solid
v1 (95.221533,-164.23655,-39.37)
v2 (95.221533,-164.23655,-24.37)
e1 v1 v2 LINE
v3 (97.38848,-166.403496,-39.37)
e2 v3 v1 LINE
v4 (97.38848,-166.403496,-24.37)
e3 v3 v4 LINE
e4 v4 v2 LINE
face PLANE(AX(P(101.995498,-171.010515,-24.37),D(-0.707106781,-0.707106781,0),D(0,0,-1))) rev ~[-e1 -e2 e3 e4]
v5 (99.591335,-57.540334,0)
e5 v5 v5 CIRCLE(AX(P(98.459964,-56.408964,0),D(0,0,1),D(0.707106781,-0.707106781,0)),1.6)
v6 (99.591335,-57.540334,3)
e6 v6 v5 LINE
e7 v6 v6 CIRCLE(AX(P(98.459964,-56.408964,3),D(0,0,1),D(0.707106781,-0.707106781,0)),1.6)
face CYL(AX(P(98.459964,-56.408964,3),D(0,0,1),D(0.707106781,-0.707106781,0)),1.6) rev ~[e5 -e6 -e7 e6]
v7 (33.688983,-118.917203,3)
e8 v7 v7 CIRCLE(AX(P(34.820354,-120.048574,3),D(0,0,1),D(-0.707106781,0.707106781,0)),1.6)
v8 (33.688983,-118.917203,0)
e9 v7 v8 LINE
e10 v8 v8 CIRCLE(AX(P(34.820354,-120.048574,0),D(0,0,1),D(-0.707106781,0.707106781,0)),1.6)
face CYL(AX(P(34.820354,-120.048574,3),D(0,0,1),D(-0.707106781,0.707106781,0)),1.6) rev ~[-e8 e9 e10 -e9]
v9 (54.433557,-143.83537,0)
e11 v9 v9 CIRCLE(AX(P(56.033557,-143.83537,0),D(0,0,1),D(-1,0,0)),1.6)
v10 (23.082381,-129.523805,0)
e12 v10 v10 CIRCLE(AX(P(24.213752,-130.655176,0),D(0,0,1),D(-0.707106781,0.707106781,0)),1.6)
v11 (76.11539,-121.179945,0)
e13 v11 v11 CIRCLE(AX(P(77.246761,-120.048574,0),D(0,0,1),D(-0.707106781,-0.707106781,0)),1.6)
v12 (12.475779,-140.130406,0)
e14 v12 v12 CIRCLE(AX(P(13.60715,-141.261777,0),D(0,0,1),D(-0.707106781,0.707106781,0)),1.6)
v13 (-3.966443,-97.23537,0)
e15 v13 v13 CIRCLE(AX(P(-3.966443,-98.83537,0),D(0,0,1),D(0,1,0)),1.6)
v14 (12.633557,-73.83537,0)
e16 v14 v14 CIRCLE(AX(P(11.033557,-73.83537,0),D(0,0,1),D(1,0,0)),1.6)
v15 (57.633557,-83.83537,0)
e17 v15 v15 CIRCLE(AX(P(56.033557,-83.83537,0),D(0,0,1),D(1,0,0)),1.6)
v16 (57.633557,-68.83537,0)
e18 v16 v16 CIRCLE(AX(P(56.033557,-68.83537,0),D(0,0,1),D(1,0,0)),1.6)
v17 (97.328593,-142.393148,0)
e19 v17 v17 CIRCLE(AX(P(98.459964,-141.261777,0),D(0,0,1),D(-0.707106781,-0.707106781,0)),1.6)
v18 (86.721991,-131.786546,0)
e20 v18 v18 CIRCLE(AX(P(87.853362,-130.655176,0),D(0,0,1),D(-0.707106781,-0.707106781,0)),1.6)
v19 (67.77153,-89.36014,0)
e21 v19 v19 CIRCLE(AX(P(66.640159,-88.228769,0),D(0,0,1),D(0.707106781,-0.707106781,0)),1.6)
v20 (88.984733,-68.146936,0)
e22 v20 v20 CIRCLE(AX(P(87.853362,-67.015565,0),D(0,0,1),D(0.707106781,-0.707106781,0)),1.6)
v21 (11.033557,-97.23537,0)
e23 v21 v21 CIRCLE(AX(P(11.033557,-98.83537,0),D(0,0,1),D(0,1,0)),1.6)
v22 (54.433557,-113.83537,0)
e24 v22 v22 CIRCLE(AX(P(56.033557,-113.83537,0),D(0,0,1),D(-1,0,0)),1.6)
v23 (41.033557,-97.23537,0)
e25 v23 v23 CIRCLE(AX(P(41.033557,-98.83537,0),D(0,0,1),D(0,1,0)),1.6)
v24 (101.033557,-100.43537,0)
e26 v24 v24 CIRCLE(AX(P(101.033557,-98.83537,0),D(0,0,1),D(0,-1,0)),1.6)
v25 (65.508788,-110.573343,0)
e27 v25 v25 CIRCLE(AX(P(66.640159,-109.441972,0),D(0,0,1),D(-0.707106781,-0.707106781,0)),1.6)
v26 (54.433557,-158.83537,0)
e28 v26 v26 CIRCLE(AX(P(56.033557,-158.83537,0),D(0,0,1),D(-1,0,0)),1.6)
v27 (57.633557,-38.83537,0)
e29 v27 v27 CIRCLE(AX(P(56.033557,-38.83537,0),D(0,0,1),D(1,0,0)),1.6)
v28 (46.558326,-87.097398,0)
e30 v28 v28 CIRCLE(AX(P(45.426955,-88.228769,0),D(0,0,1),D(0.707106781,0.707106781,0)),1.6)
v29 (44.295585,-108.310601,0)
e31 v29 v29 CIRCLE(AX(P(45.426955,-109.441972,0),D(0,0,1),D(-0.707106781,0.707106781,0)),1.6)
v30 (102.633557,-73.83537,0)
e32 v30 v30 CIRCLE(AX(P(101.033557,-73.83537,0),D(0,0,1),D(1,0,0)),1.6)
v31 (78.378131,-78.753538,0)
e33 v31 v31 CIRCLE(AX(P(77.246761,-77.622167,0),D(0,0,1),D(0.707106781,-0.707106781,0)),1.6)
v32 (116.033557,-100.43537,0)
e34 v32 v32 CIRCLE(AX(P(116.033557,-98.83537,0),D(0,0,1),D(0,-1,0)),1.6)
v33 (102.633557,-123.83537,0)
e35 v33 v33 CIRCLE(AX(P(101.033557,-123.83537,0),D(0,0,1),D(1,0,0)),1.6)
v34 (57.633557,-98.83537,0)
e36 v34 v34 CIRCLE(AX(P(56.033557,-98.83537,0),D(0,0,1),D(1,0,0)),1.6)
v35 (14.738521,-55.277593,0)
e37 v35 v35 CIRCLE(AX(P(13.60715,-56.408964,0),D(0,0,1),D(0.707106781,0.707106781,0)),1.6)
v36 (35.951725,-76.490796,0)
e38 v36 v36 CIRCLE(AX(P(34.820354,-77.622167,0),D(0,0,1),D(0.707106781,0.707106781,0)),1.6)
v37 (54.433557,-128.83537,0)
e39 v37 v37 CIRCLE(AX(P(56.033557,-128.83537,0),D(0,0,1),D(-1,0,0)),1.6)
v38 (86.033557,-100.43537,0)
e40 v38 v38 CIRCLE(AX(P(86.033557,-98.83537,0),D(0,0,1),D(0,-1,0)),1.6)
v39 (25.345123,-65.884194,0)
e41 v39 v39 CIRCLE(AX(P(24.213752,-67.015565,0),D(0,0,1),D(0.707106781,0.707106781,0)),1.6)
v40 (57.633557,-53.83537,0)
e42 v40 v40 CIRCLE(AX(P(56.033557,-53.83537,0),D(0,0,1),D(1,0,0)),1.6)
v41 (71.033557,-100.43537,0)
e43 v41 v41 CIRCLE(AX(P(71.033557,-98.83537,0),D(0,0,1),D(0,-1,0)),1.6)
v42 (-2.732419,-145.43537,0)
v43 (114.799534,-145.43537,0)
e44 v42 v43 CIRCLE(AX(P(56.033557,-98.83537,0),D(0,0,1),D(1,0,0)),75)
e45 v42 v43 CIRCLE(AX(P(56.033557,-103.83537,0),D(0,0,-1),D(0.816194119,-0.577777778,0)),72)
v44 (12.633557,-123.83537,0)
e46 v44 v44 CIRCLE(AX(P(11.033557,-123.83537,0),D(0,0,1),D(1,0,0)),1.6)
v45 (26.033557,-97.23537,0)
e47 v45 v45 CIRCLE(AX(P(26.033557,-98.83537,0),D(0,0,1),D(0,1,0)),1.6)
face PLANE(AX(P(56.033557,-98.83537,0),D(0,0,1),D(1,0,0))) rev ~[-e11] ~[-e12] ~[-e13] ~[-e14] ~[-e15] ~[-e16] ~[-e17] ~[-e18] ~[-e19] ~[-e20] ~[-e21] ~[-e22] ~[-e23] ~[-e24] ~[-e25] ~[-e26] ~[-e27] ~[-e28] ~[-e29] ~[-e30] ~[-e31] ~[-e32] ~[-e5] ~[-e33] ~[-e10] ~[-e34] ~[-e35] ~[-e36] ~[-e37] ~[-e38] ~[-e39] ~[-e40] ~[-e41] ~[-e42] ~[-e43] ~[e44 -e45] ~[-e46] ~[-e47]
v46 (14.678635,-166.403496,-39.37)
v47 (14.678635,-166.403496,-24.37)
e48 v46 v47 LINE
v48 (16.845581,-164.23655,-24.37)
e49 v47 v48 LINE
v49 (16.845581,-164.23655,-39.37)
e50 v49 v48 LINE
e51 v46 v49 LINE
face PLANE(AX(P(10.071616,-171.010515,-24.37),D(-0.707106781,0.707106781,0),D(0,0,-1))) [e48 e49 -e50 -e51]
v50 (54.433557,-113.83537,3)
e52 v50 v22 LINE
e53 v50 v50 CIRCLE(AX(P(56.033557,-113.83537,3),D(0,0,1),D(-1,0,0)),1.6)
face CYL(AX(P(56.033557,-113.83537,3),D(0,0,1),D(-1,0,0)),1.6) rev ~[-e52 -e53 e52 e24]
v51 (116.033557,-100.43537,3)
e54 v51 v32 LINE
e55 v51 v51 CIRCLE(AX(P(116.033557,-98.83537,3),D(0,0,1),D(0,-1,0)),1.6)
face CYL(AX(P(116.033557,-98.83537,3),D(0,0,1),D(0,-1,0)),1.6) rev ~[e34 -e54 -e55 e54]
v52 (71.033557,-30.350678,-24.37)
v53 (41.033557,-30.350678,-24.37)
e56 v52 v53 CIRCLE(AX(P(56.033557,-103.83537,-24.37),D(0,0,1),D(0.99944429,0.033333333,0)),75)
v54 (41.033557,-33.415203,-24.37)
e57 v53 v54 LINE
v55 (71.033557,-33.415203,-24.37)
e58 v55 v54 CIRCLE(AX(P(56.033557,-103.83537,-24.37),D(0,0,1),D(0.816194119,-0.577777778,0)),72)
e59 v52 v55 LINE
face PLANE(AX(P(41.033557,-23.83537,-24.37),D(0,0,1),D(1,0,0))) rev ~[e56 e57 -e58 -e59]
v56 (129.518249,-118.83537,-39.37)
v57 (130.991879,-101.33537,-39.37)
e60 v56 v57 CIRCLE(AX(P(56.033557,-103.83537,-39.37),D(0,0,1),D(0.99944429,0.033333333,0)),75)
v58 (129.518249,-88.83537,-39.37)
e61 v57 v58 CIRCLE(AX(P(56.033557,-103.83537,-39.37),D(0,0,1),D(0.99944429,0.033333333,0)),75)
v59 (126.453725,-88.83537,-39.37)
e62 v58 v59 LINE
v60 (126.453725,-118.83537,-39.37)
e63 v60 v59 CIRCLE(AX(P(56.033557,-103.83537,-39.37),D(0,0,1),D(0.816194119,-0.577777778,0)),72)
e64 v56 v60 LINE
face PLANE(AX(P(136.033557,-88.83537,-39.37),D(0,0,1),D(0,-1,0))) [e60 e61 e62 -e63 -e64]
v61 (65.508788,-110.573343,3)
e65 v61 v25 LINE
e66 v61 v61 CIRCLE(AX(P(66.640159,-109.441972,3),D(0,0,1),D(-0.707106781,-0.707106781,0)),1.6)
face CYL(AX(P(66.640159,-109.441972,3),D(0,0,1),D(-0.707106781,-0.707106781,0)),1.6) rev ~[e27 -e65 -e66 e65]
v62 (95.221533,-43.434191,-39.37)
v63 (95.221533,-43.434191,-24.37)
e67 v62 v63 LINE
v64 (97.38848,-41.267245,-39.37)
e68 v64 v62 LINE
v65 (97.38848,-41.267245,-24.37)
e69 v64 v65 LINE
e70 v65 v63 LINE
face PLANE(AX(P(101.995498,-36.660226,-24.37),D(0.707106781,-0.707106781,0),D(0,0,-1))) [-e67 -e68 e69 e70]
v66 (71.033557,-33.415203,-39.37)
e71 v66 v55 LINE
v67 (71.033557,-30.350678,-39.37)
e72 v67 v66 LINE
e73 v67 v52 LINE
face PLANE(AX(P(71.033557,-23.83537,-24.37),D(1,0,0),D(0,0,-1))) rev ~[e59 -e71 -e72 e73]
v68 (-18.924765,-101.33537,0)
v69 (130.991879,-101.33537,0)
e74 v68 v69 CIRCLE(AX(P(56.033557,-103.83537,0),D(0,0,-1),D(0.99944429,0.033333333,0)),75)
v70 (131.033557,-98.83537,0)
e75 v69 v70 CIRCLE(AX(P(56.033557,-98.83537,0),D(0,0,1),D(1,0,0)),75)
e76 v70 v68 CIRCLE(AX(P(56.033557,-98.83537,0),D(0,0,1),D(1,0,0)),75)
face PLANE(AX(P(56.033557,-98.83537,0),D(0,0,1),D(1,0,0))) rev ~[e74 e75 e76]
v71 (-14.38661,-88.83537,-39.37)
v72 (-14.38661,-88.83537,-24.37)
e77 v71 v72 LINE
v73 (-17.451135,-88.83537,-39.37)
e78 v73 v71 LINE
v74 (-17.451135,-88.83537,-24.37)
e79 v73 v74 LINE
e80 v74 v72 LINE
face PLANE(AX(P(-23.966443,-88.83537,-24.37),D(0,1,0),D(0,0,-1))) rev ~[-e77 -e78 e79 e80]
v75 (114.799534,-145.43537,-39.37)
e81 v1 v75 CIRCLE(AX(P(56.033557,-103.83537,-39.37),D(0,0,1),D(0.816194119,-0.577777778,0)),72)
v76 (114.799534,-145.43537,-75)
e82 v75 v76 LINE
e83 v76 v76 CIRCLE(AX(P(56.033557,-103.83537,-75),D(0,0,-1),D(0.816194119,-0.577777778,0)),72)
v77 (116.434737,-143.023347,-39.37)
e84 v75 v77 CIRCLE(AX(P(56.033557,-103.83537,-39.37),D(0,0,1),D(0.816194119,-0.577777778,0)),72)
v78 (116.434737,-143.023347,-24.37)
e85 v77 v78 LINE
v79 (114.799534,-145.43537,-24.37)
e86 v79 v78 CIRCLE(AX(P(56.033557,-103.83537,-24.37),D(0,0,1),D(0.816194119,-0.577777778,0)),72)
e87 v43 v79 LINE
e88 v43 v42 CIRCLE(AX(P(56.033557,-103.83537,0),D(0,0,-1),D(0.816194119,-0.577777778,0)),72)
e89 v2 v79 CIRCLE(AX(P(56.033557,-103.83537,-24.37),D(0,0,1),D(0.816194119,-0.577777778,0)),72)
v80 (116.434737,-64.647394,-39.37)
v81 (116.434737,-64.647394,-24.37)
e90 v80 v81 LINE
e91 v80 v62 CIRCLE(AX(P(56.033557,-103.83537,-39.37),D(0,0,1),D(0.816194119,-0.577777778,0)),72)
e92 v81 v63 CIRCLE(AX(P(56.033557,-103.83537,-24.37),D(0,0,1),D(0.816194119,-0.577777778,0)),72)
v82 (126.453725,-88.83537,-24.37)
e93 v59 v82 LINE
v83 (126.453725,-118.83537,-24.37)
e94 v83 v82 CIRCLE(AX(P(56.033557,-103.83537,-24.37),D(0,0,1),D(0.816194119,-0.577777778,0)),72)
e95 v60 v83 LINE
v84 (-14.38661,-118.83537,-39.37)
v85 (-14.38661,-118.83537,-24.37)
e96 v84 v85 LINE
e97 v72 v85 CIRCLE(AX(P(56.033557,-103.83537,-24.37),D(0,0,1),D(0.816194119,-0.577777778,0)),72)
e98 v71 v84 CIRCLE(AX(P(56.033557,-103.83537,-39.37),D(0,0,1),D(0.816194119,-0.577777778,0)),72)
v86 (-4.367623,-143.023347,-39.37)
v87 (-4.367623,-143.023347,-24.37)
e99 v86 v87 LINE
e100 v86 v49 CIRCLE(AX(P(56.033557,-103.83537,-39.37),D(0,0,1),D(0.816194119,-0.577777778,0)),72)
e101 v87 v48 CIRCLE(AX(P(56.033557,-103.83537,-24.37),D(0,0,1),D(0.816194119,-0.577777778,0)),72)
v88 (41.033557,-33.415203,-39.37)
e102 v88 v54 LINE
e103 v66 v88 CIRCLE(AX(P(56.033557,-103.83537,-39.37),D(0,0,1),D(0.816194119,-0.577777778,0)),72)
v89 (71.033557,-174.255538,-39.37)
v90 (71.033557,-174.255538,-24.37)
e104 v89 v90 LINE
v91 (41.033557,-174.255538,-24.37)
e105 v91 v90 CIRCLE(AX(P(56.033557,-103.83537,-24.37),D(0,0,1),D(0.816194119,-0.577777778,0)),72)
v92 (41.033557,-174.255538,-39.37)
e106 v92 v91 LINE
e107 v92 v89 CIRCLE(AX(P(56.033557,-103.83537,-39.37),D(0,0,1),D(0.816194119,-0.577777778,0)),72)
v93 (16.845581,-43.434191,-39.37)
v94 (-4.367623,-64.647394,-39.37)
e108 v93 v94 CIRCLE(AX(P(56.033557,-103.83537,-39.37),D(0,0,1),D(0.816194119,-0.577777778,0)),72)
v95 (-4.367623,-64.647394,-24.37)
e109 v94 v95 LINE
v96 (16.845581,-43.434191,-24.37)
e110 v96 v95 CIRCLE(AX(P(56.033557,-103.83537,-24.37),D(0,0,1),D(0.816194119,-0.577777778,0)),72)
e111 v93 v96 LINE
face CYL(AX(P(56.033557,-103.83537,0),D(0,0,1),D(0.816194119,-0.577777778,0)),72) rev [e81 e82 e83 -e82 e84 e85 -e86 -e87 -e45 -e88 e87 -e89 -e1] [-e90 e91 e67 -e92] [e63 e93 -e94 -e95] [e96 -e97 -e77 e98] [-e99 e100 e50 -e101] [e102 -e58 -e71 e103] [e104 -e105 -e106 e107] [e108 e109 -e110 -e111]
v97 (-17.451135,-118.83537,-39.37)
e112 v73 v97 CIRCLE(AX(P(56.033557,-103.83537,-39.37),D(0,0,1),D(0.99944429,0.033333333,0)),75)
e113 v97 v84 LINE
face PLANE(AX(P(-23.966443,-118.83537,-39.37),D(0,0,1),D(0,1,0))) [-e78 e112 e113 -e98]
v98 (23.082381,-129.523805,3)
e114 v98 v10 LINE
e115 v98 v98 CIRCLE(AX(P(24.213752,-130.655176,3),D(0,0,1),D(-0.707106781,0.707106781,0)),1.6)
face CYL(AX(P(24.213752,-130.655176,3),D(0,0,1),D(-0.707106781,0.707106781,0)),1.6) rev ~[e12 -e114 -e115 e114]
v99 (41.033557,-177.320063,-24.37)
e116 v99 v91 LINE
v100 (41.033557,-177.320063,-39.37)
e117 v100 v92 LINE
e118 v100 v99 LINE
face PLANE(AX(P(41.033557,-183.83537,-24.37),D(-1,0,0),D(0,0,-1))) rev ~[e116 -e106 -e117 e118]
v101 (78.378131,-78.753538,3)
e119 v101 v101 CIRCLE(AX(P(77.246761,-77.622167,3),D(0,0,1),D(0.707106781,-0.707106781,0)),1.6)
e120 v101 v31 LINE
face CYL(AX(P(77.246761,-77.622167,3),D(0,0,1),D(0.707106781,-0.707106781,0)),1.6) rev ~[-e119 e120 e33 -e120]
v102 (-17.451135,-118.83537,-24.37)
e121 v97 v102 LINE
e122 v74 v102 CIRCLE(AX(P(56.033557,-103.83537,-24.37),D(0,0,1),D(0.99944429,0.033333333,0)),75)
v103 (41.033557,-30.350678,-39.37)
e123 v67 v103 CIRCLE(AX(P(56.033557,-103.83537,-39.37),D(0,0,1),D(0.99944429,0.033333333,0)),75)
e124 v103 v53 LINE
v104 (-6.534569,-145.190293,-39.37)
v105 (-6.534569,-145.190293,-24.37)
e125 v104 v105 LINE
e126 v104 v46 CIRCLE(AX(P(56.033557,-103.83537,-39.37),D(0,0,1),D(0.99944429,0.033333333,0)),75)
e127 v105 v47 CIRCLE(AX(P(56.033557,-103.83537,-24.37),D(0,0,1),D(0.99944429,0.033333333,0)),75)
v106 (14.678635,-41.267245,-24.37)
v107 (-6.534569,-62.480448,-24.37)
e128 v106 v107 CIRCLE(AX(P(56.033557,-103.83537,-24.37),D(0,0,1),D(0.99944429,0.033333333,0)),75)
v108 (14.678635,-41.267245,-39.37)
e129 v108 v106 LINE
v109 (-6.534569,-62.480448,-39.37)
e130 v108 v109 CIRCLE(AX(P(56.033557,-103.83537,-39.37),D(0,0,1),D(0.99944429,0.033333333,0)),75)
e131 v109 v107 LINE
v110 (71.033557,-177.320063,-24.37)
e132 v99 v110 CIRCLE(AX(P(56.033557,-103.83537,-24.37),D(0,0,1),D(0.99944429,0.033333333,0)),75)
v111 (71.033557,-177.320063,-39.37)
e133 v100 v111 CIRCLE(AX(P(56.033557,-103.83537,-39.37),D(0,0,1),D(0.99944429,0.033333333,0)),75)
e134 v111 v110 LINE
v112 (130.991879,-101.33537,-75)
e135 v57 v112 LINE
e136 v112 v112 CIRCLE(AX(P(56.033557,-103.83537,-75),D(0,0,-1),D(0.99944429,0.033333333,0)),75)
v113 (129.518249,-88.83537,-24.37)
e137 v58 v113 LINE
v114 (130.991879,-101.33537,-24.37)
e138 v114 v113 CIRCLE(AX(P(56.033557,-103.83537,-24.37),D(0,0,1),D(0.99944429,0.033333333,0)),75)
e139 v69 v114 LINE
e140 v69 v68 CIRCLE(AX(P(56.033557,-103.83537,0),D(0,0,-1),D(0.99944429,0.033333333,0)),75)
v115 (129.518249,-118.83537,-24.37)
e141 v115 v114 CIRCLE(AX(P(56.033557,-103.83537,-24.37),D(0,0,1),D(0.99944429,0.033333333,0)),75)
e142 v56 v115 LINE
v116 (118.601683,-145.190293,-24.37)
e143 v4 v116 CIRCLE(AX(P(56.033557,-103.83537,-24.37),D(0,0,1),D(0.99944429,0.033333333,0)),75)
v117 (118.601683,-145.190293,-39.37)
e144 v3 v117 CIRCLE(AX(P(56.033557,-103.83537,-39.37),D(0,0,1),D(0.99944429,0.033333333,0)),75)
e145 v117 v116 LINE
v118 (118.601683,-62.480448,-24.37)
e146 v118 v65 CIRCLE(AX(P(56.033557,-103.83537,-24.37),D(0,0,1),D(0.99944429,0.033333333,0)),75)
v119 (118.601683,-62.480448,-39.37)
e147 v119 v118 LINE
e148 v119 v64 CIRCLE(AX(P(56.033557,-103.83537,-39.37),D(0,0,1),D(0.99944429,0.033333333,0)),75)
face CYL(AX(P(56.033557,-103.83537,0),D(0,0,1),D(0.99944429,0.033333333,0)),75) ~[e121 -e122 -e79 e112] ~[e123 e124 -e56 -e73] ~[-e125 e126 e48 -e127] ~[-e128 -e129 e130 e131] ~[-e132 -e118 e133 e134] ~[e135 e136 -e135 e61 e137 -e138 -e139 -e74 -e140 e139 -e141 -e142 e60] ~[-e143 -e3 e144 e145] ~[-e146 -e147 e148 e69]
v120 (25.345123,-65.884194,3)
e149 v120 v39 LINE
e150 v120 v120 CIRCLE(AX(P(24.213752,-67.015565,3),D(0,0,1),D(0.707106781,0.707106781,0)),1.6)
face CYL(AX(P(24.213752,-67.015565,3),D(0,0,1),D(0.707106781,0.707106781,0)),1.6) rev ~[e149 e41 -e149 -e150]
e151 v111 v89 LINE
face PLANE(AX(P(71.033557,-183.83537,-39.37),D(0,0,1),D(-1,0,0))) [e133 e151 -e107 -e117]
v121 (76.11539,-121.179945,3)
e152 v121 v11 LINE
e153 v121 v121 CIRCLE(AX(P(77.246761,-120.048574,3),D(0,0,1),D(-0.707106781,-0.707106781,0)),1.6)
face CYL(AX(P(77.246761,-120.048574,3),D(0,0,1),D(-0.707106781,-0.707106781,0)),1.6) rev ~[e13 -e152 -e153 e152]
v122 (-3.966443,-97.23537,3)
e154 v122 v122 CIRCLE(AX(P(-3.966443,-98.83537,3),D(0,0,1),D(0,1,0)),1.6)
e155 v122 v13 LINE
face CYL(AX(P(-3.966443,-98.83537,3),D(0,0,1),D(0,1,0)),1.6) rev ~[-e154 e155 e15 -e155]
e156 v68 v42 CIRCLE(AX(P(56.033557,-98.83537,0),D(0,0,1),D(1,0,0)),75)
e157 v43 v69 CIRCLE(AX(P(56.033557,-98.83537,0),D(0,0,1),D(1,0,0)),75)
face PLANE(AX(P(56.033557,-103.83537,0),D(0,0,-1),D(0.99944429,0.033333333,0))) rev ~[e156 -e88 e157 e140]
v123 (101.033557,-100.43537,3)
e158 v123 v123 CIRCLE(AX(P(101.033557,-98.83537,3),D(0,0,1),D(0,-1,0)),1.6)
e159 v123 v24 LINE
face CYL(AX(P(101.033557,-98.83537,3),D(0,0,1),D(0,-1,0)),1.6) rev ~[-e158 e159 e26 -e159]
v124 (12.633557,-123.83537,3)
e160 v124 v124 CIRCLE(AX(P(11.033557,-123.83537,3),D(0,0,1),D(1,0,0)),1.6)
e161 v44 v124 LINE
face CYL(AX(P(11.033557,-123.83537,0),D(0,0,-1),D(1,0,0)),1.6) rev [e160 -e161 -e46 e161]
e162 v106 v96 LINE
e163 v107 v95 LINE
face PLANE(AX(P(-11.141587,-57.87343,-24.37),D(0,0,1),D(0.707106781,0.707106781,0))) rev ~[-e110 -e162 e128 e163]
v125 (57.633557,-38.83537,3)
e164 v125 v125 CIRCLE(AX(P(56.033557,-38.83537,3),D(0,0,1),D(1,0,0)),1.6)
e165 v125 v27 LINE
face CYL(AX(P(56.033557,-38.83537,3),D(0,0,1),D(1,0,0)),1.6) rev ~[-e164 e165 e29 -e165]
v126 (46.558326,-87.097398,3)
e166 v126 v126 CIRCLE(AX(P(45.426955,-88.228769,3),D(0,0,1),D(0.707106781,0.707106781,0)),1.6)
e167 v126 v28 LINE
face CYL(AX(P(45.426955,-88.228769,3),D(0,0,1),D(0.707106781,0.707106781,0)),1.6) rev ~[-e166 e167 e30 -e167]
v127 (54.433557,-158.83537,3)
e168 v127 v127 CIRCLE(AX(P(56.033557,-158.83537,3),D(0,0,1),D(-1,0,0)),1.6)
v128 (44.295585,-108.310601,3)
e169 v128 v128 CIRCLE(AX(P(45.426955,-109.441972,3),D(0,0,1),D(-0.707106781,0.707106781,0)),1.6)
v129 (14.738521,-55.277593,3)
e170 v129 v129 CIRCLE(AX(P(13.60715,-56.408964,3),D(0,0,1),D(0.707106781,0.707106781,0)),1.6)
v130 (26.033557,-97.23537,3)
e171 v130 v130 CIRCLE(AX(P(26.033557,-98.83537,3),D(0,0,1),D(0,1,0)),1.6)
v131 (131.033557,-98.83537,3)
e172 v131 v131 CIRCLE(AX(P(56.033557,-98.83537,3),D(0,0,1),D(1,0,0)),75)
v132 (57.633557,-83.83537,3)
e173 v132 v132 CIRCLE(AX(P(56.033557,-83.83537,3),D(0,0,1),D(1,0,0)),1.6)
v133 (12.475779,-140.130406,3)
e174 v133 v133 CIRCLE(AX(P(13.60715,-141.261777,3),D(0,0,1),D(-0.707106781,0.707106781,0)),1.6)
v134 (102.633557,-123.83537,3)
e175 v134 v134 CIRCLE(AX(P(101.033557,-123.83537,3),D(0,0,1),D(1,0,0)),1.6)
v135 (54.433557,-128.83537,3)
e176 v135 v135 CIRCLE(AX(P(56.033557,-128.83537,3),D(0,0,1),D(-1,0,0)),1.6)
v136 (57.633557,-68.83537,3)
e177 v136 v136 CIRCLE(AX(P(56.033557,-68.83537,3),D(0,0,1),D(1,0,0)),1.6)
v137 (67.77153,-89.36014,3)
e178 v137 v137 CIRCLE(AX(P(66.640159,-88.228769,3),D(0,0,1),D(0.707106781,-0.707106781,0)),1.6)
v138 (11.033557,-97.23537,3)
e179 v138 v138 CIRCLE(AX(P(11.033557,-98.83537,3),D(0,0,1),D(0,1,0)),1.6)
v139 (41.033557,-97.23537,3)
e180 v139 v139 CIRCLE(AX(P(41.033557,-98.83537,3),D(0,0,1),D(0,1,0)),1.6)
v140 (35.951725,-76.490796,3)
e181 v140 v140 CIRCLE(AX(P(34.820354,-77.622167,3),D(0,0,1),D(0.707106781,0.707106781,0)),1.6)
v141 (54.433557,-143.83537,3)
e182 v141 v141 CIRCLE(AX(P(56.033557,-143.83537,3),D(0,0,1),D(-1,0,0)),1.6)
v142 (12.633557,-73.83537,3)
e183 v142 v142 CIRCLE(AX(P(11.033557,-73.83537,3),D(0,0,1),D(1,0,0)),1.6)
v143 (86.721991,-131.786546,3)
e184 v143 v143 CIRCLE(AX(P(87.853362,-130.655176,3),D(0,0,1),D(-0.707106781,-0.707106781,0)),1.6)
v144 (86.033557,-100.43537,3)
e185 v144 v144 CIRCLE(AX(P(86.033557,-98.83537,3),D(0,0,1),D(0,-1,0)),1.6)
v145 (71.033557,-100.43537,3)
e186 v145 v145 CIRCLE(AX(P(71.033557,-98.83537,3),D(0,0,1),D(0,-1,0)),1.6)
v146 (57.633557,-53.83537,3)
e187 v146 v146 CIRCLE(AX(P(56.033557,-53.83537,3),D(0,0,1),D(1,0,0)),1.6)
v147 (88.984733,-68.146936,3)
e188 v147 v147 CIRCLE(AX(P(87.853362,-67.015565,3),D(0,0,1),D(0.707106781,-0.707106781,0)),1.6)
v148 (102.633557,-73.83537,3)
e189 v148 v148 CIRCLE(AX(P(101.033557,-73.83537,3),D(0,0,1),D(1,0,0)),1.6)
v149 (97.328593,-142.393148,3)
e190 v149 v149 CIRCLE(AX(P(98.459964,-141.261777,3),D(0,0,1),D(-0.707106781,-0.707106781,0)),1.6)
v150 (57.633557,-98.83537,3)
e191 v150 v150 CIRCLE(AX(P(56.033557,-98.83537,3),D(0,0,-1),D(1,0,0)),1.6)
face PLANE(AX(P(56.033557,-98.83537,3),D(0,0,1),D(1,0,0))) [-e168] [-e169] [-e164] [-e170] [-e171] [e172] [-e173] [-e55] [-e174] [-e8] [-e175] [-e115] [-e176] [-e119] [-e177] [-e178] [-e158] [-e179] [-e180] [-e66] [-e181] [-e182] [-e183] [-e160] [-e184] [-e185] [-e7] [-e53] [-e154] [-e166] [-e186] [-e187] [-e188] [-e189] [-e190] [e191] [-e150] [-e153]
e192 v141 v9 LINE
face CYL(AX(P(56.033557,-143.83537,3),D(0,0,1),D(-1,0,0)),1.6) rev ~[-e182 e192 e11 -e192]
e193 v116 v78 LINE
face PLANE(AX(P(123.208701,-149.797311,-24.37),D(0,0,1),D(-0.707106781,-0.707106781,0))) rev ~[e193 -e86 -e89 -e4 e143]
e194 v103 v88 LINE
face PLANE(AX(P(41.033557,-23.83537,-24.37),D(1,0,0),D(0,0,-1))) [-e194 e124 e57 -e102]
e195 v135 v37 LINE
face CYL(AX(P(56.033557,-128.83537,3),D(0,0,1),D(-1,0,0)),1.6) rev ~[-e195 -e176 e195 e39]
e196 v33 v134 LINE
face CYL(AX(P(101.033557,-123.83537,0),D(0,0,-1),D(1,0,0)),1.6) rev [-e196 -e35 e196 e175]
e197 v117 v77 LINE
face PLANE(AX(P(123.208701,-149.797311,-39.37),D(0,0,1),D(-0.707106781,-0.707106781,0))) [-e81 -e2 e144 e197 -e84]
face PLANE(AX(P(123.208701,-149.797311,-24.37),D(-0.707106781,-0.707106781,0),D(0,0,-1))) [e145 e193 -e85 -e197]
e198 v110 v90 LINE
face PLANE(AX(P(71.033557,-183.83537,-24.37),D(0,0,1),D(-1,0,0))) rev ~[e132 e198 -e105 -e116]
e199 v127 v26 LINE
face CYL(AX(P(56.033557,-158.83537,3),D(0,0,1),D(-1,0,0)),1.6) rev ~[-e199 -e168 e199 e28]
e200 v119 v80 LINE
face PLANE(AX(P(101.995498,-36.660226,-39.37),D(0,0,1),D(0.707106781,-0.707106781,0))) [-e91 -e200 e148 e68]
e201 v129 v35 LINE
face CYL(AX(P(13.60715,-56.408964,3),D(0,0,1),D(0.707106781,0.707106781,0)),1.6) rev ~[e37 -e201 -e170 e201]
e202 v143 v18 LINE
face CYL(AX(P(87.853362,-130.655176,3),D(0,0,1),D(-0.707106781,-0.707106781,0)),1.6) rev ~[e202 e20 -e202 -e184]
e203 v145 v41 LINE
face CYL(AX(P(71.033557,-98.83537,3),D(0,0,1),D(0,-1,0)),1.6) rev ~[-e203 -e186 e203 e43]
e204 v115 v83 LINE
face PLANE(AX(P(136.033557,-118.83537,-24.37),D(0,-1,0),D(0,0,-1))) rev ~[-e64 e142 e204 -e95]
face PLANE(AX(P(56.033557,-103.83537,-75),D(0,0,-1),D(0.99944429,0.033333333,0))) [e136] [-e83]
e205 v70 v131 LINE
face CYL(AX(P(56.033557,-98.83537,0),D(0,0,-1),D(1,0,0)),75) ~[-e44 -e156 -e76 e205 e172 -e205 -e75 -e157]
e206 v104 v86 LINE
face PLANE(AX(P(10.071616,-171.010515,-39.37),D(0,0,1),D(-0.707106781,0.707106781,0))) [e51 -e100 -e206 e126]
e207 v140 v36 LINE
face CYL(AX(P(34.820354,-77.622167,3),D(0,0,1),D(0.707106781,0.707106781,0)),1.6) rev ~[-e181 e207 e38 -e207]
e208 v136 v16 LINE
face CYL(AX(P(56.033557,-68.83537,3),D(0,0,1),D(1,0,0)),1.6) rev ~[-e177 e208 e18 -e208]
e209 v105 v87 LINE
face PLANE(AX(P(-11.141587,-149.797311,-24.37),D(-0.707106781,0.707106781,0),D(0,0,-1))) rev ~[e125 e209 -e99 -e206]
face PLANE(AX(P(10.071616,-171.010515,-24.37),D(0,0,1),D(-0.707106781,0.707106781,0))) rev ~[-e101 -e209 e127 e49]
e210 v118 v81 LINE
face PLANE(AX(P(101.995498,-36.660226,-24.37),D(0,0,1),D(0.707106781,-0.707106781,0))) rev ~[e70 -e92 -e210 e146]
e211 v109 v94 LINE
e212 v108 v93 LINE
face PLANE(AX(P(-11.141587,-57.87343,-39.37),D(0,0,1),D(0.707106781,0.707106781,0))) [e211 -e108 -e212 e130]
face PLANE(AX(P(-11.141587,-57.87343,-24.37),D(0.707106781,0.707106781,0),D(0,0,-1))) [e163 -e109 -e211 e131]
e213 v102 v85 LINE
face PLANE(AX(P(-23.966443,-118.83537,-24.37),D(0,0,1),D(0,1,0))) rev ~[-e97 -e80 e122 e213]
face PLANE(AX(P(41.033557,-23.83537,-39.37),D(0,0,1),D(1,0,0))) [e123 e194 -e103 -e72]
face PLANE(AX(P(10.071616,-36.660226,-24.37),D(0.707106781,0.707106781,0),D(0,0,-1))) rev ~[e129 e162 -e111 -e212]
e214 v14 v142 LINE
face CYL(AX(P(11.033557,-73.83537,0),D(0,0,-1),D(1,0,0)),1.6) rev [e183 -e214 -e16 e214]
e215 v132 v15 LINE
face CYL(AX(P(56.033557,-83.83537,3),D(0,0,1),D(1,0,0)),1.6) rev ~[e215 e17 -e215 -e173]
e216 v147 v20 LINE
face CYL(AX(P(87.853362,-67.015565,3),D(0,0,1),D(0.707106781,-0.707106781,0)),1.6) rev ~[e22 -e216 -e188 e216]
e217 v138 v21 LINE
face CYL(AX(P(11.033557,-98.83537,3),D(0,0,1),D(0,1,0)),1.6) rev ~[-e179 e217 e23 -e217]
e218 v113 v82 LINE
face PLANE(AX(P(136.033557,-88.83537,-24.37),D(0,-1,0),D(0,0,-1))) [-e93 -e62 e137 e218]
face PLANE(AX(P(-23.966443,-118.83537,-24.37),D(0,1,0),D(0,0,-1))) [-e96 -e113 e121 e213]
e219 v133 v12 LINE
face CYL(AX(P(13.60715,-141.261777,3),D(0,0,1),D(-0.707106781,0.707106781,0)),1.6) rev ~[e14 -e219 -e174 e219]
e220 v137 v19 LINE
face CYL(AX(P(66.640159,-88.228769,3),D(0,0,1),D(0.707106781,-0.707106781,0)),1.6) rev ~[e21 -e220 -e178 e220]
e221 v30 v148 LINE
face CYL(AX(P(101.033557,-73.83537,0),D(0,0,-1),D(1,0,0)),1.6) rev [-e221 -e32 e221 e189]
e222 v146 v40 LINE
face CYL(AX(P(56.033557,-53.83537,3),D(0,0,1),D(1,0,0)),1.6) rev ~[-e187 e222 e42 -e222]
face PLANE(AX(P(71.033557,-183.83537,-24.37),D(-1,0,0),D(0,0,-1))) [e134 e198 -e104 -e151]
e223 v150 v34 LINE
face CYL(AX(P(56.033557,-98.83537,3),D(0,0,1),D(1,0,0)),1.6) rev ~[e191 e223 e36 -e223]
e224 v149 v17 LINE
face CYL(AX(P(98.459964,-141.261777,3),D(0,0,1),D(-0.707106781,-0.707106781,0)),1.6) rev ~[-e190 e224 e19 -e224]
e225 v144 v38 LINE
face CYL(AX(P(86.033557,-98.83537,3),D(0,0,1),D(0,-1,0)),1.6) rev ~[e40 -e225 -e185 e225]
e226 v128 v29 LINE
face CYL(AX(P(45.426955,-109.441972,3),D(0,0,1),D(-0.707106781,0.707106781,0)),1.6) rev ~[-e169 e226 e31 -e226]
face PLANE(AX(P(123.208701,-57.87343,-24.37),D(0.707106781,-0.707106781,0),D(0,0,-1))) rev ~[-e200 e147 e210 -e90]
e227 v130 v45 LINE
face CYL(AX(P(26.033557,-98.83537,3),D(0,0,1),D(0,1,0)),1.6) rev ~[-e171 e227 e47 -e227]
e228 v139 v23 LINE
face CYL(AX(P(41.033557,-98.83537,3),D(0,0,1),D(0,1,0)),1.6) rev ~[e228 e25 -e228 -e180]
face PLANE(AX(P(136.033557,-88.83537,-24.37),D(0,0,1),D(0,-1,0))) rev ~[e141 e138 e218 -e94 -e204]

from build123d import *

# Parameters (mm, degrees)
SKETCH1_R                    = 75
SKETCH1_R_2                  = 1.6
BOSS_EXTRUDE1_DEPTH          = 3
SKETCH2_R                    = 75
SKETCH2_R_2                  = 72
BOSS_EXTRUDE2_DEPTH          = 75
SKETCH3_W                    = 30
SKETCH3_H                    = 15
CUT_EXTRUDE1_DEPTH           = 14
CIRPATTERN1_COUNT            = 8
SKETCH4_R                    = 1.6
CUT_EXTRUDE2_DEPTH           = 3
LPATTERN2_COUNT              = 5
LPATTERN2_PITCH              = 15
CIRPATTERN2_COPY_1_SKETCH_R  = 1.6
CIRPATTERN2_COPY_1_DEPTH     = 3
CIRPATTERN2_COPY_2_SKETCH_R  = 1.6
CIRPATTERN2_COPY_2_DEPTH     = 3
CIRPATTERN2_COPY_3_SKETCH_R  = 1.6
CIRPATTERN2_COPY_3_DEPTH     = 3
CIRPATTERN2_COPY_4_SKETCH_R  = 1.6
CIRPATTERN2_COPY_4_DEPTH     = 3
CIRPATTERN2_COPY_5_SKETCH_R  = 1.6
CIRPATTERN2_COPY_5_DEPTH     = 3
CIRPATTERN2_COPY_6_SKETCH_R  = 1.6
CIRPATTERN2_COPY_6_DEPTH     = 3
CIRPATTERN2_COPY_7_SKETCH_R  = 1.6
CIRPATTERN2_COPY_7_DEPTH     = 3
CIRPATTERN2_COPY_8_SKETCH_R  = 1.6
CIRPATTERN2_COPY_8_DEPTH     = 3
CIRPATTERN2_COPY_9_SKETCH_R  = 1.6
CIRPATTERN2_COPY_9_DEPTH     = 3
CIRPATTERN2_COPY_10_SKETCH_R = 1.6
CIRPATTERN2_COPY_10_DEPTH    = 3
CIRPATTERN2_COPY_11_SKETCH_R = 1.6
CIRPATTERN2_COPY_11_DEPTH    = 3
CIRPATTERN2_COPY_12_SKETCH_R = 1.6
CIRPATTERN2_COPY_12_DEPTH    = 3
CIRPATTERN2_COPY_13_SKETCH_R = 1.6
CIRPATTERN2_COPY_13_DEPTH    = 3
CIRPATTERN2_COPY_14_SKETCH_R = 1.6
CIRPATTERN2_COPY_14_DEPTH    = 3
CIRPATTERN2_COPY_15_SKETCH_R = 1.6
CIRPATTERN2_COPY_15_DEPTH    = 3
CIRPATTERN2_COPY_16_SKETCH_R = 1.6
CIRPATTERN2_COPY_16_DEPTH    = 3
CIRPATTERN2_COPY_17_SKETCH_R = 1.6
CIRPATTERN2_COPY_17_DEPTH    = 3
CIRPATTERN2_COPY_18_SKETCH_R = 1.6
CIRPATTERN2_COPY_18_DEPTH    = 3
CIRPATTERN2_COPY_19_SKETCH_R = 1.6
CIRPATTERN2_COPY_19_DEPTH    = 3
CIRPATTERN2_COPY_20_SKETCH_R = 1.6
CIRPATTERN2_COPY_20_DEPTH    = 3
CIRPATTERN2_COPY_21_SKETCH_R = 1.6
CIRPATTERN2_COPY_21_DEPTH    = 3
CIRPATTERN2_COPY_22_SKETCH_R = 1.6
CIRPATTERN2_COPY_22_DEPTH    = 3
CIRPATTERN2_COPY_23_SKETCH_R = 1.6
CIRPATTERN2_COPY_23_DEPTH    = 3
CIRPATTERN2_COPY_24_SKETCH_R = 1.6
CIRPATTERN2_COPY_24_DEPTH    = 3
CIRPATTERN2_COPY_25_SKETCH_R = 1.6
CIRPATTERN2_COPY_25_DEPTH    = 3
CIRPATTERN2_COPY_26_SKETCH_R = 1.6
CIRPATTERN2_COPY_26_DEPTH    = 3
CIRPATTERN2_COPY_27_SKETCH_R = 1.6
CIRPATTERN2_COPY_27_DEPTH    = 3
CIRPATTERN2_COPY_28_SKETCH_R = 1.6
CIRPATTERN2_COPY_28_DEPTH    = 3
CIRPATTERN2_COPY_29_SKETCH_R = 1.6
CIRPATTERN2_COPY_29_DEPTH    = 3
CIRPATTERN2_COPY_30_SKETCH_R = 1.6
CIRPATTERN2_COPY_30_DEPTH    = 3
CIRPATTERN2_COPY_31_SKETCH_R = 1.6
CIRPATTERN2_COPY_31_DEPTH    = 3
CIRPATTERN2_COPY_32_SKETCH_R = 1.6
CIRPATTERN2_COPY_32_DEPTH    = 3
CIRPATTERN2_COPY_33_SKETCH_R = 1.6
CIRPATTERN2_COPY_33_DEPTH    = 3
CIRPATTERN2_COPY_34_SKETCH_R = 1.6
CIRPATTERN2_COPY_34_DEPTH    = 3
CIRPATTERN2_COPY_35_SKETCH_R = 1.6
CIRPATTERN2_COPY_35_DEPTH    = 3


with BuildPart() as part:
    # Sketch1 → Boss-Extrude1 (new body)
    with BuildSketch(Plane.XY):
        with Locations((56.033557165, -98.835370465)):
            Circle(SKETCH1_R)
        with Locations((11.033557165, -73.835370465)):
            Circle(SKETCH1_R_2, mode=Mode.SUBTRACT)
        with Locations((101.033557165, -73.835370465)):
            Circle(SKETCH1_R_2, mode=Mode.SUBTRACT)
        with Locations((11.033557165, -123.835370465)):
            Circle(SKETCH1_R_2, mode=Mode.SUBTRACT)
        with Locations((101.033557165, -123.835370465)):
            Circle(SKETCH1_R_2, mode=Mode.SUBTRACT)
    extrude(amount=BOSS_EXTRUDE1_DEPTH)

    # Sketch2 → Boss-Extrude2 (add)
    with BuildSketch(Plane(origin=(0, 0, 0), x_dir=(-1, 0, 0), z_dir=(0, 0, -1))):
        with Locations(Location((-56.033557165, -103.835370465, 0), (0, 0, 178.089786828))):
            Circle(SKETCH2_R)
        with Locations(Location((-56.033557165, -103.835370465, 0), (0, 0, 215.294394677))):
            Circle(SKETCH2_R_2, mode=Mode.SUBTRACT)
    extrude(amount=BOSS_EXTRUDE2_DEPTH)

    # Sketch3 → Cut-Extrude1 (cut)
    with BuildSketch(Plane(origin=(0, -23.835370465, 0), x_dir=(1, 0, 0), z_dir=(0, 1, 0))):
        with Locations((56.033557165, 31.87)):
            Rectangle(SKETCH3_W, SKETCH3_H)
    cut_extrude1 = extrude(amount=-CUT_EXTRUDE1_DEPTH, mode=Mode.SUBTRACT)

    # CirPattern1: Cut-Extrude1 ×8 about axis
    cirpattern1_axis = Axis((56.033557165, -103.835370465, 0), (0, 0, 1))
    for i in range(1, CIRPATTERN1_COUNT):
        add(cut_extrude1.rotate(cirpattern1_axis, i * 360 / CIRPATTERN1_COUNT), mode=Mode.SUBTRACT)

    # Sketch4 → Cut-Extrude2 (cut)
    with BuildSketch(Plane.XY.offset(3)):
        with Locations((56.033557165, -98.835370465)):
            Circle(SKETCH4_R)
    cut_extrude2 = extrude(amount=-CUT_EXTRUDE2_DEPTH, mode=Mode.SUBTRACT)

    # LPattern2: Cut-Extrude2 ×5
    with Locations(*[(0, i * LPATTERN2_PITCH, 0) for i in range(1, LPATTERN2_COUNT)]):
        add(cut_extrude2, mode=Mode.SUBTRACT)

    # CirPattern2 copy 1 sketch → CirPattern2 copy 1 (cut)
    with BuildSketch(Plane(origin=(-64.081913475, -57.963316316, 3), x_dir=(0.7071067811865476, 0.7071067811865475, 0), z_dir=(0, 0, 1))):
        with Locations((56.033557165, -98.835370465)):
            Circle(CIRPATTERN2_COPY_1_SKETCH_R)
    extrude(amount=-CIRPATTERN2_COPY_1_DEPTH, mode=Mode.SUBTRACT)

    # CirPattern2 copy 2 sketch → CirPattern2 copy 2 (cut)
    with BuildSketch(Plane(origin=(-57.8018133, -154.86892763, 3), x_dir=(0, 1, 0), z_dir=(0, 0, 1))):
        with Locations((56.033557165, -98.835370465)):
            Circle(CIRPATTERN2_COPY_2_SKETCH_R)
    extrude(amount=-CIRPATTERN2_COPY_2_DEPTH, mode=Mode.SUBTRACT)

    # CirPattern2 copy 3 sketch → CirPattern2 copy 3 (cut)
    with BuildSketch(Plane(origin=(15.161503016, -218.950841105, 3), x_dir=(-0.7071067811865475, 0.7071067811865476, 0), z_dir=(0, 0, 1))):
        with Locations((56.033557165, -98.835370465)):
            Circle(CIRPATTERN2_COPY_3_SKETCH_R)
    extrude(amount=-CIRPATTERN2_COPY_3_DEPTH, mode=Mode.SUBTRACT)

    # CirPattern2 copy 4 sketch → CirPattern2 copy 4 (cut)
    with BuildSketch(Plane(origin=(112.06711433, -212.670740929, 3), x_dir=(-1, 0, 0), z_dir=(0, 0, 1))):
        with Locations((56.033557165, -98.835370465)):
            Circle(CIRPATTERN2_COPY_4_SKETCH_R)
    extrude(amount=-CIRPATTERN2_COPY_4_DEPTH, mode=Mode.SUBTRACT)

    # CirPattern2 copy 5 sketch → CirPattern2 copy 5 (cut)
    with BuildSketch(Plane(origin=(176.149027805, -139.707424614, 3), x_dir=(-0.7071067811865477, -0.7071067811865475, 0), z_dir=(0, 0, 1))):
        with Locations((56.033557165, -98.835370465)):
            Circle(CIRPATTERN2_COPY_5_SKETCH_R)
    extrude(amount=-CIRPATTERN2_COPY_5_DEPTH, mode=Mode.SUBTRACT)

    # CirPattern2 copy 6 sketch → CirPattern2 copy 6 (cut)
    with BuildSketch(Plane(origin=(169.86892763, -42.8018133, 3), x_dir=(0, -1, 0), z_dir=(0, 0, 1))):
        with Locations((56.033557165, -98.835370465)):
            Circle(CIRPATTERN2_COPY_6_SKETCH_R)
    extrude(amount=-CIRPATTERN2_COPY_6_DEPTH, mode=Mode.SUBTRACT)

    # CirPattern2 copy 7 sketch → CirPattern2 copy 7 (cut)
    with BuildSketch(Plane(origin=(96.905611314, 21.280100175, 3), x_dir=(0.7071067811865474, -0.7071067811865477, 0), z_dir=(0, 0, 1))):
        with Locations((56.033557165, -98.835370465)):
            Circle(CIRPATTERN2_COPY_7_SKETCH_R)
    extrude(amount=-CIRPATTERN2_COPY_7_DEPTH, mode=Mode.SUBTRACT)

    # CirPattern2 copy 8 sketch → CirPattern2 copy 8 (cut)
    with BuildSketch(Plane(origin=(-74.688515193, -47.356714598, 3), x_dir=(0.7071067811865476, 0.7071067811865475, 0), z_dir=(0, 0, 1))):
        with Locations((56.033557165, -98.835370465)):
            Circle(CIRPATTERN2_COPY_8_SKETCH_R)
    extrude(amount=-CIRPATTERN2_COPY_8_DEPTH, mode=Mode.SUBTRACT)

    # CirPattern2 copy 9 sketch → CirPattern2 copy 9 (cut)
    with BuildSketch(Plane(origin=(-72.8018133, -154.86892763, 3), x_dir=(0, 1, 0), z_dir=(0, 0, 1))):
        with Locations((56.033557165, -98.835370465)):
            Circle(CIRPATTERN2_COPY_9_SKETCH_R)
    extrude(amount=-CIRPATTERN2_COPY_9_DEPTH, mode=Mode.SUBTRACT)

    # CirPattern2 copy 10 sketch → CirPattern2 copy 10 (cut)
    with BuildSketch(Plane(origin=(4.554901298, -229.557442822, 3), x_dir=(-0.7071067811865475, 0.7071067811865476, 0), z_dir=(0, 0, 1))):
        with Locations((56.033557165, -98.835370465)):
            Circle(CIRPATTERN2_COPY_10_SKETCH_R)
    extrude(amount=-CIRPATTERN2_COPY_10_DEPTH, mode=Mode.SUBTRACT)

    # CirPattern2 copy 11 sketch → CirPattern2 copy 11 (cut)
    with BuildSketch(Plane(origin=(112.06711433, -227.670740929, 3), x_dir=(-1, 0, 0), z_dir=(0, 0, 1))):
        with Locations((56.033557165, -98.835370465)):
            Circle(CIRPATTERN2_COPY_11_SKETCH_R)
    extrude(amount=-CIRPATTERN2_COPY_11_DEPTH, mode=Mode.SUBTRACT)

    # CirPattern2 copy 12 sketch → CirPattern2 copy 12 (cut)
    with BuildSketch(Plane(origin=(186.755629523, -150.314026332, 3), x_dir=(-0.7071067811865477, -0.7071067811865475, 0), z_dir=(0, 0, 1))):
        with Locations((56.033557165, -98.835370465)):
            Circle(CIRPATTERN2_COPY_12_SKETCH_R)
    extrude(amount=-CIRPATTERN2_COPY_12_DEPTH, mode=Mode.SUBTRACT)

    # CirPattern2 copy 13 sketch → CirPattern2 copy 13 (cut)
    with BuildSketch(Plane(origin=(184.86892763, -42.8018133, 3), x_dir=(0, -1, 0), z_dir=(0, 0, 1))):
        with Locations((56.033557165, -98.835370465)):
            Circle(CIRPATTERN2_COPY_13_SKETCH_R)
    extrude(amount=-CIRPATTERN2_COPY_13_DEPTH, mode=Mode.SUBTRACT)

    # CirPattern2 copy 14 sketch → CirPattern2 copy 14 (cut)
    with BuildSketch(Plane(origin=(107.512213032, 31.886701893, 3), x_dir=(0.7071067811865474, -0.7071067811865477, 0), z_dir=(0, 0, 1))):
        with Locations((56.033557165, -98.835370465)):
            Circle(CIRPATTERN2_COPY_14_SKETCH_R)
    extrude(amount=-CIRPATTERN2_COPY_14_DEPTH, mode=Mode.SUBTRACT)

    # CirPattern2 copy 15 sketch → CirPattern2 copy 15 (cut)
    with BuildSketch(Plane(origin=(-85.29511691, -36.75011288, 3), x_dir=(0.7071067811865476, 0.7071067811865475, 0), z_dir=(0, 0, 1))):
        with Locations((56.033557165, -98.835370465)):
            Circle(CIRPATTERN2_COPY_15_SKETCH_R)
    extrude(amount=-CIRPATTERN2_COPY_15_DEPTH, mode=Mode.SUBTRACT)

    # CirPattern2 copy 16 sketch → CirPattern2 copy 16 (cut)
    with BuildSketch(Plane(origin=(-87.8018133, -154.86892763, 3), x_dir=(0, 1, 0), z_dir=(0, 0, 1))):
        with Locations((56.033557165, -98.835370465)):
            Circle(CIRPATTERN2_COPY_16_SKETCH_R)
    extrude(amount=-CIRPATTERN2_COPY_16_DEPTH, mode=Mode.SUBTRACT)

    # CirPattern2 copy 17 sketch → CirPattern2 copy 17 (cut)
    with BuildSketch(Plane(origin=(-6.05170042, -240.16404454, 3), x_dir=(-0.7071067811865475, 0.7071067811865476, 0), z_dir=(0, 0, 1))):
        with Locations((56.033557165, -98.835370465)):
            Circle(CIRPATTERN2_COPY_17_SKETCH_R)
    extrude(amount=-CIRPATTERN2_COPY_17_DEPTH, mode=Mode.SUBTRACT)

    # CirPattern2 copy 18 sketch → CirPattern2 copy 18 (cut)
    with BuildSketch(Plane(origin=(112.06711433, -242.670740929, 3), x_dir=(-1, 0, 0), z_dir=(0, 0, 1))):
        with Locations((56.033557165, -98.835370465)):
            Circle(CIRPATTERN2_COPY_18_SKETCH_R)
    extrude(amount=-CIRPATTERN2_COPY_18_DEPTH, mode=Mode.SUBTRACT)

    # CirPattern2 copy 19 sketch → CirPattern2 copy 19 (cut)
    with BuildSketch(Plane(origin=(197.36223124, -160.920628049, 3), x_dir=(-0.7071067811865477, -0.7071067811865475, 0), z_dir=(0, 0, 1))):
        with Locations((56.033557165, -98.835370465)):
            Circle(CIRPATTERN2_COPY_19_SKETCH_R)
    extrude(amount=-CIRPATTERN2_COPY_19_DEPTH, mode=Mode.SUBTRACT)

    # CirPattern2 copy 20 sketch → CirPattern2 copy 20 (cut)
    with BuildSketch(Plane(origin=(199.86892763, -42.8018133, 3), x_dir=(0, -1, 0), z_dir=(0, 0, 1))):
        with Locations((56.033557165, -98.835370465)):
            Circle(CIRPATTERN2_COPY_20_SKETCH_R)
    extrude(amount=-CIRPATTERN2_COPY_20_DEPTH, mode=Mode.SUBTRACT)

    # CirPattern2 copy 21 sketch → CirPattern2 copy 21 (cut)
    with BuildSketch(Plane(origin=(118.11881475, 42.493303611, 3), x_dir=(0.7071067811865474, -0.7071067811865477, 0), z_dir=(0, 0, 1))):
        with Locations((56.033557165, -98.835370465)):
            Circle(CIRPATTERN2_COPY_21_SKETCH_R)
    extrude(amount=-CIRPATTERN2_COPY_21_DEPTH, mode=Mode.SUBTRACT)

    # CirPattern2 copy 22 sketch → CirPattern2 copy 22 (cut)
    with BuildSketch(Plane(origin=(-95.901718628, -26.143511162, 3), x_dir=(0.7071067811865476, 0.7071067811865475, 0), z_dir=(0, 0, 1))):
        with Locations((56.033557165, -98.835370465)):
            Circle(CIRPATTERN2_COPY_22_SKETCH_R)
    extrude(amount=-CIRPATTERN2_COPY_22_DEPTH, mode=Mode.SUBTRACT)

    # CirPattern2 copy 23 sketch → CirPattern2 copy 23 (cut)
    with BuildSketch(Plane(origin=(-102.8018133, -154.86892763, 3), x_dir=(0, 1, 0), z_dir=(0, 0, 1))):
        with Locations((56.033557165, -98.835370465)):
            Circle(CIRPATTERN2_COPY_23_SKETCH_R)
    extrude(amount=-CIRPATTERN2_COPY_23_DEPTH, mode=Mode.SUBTRACT)

    # CirPattern2 copy 24 sketch → CirPattern2 copy 24 (cut)
    with BuildSketch(Plane(origin=(-16.658302138, -250.770646258, 3), x_dir=(-0.7071067811865475, 0.7071067811865476, 0), z_dir=(0, 0, 1))):
        with Locations((56.033557165, -98.835370465)):
            Circle(CIRPATTERN2_COPY_24_SKETCH_R)
    extrude(amount=-CIRPATTERN2_COPY_24_DEPTH, mode=Mode.SUBTRACT)

    # CirPattern2 copy 25 sketch → CirPattern2 copy 25 (cut)
    with BuildSketch(Plane(origin=(112.06711433, -257.670740929, 3), x_dir=(-1, 0, 0), z_dir=(0, 0, 1))):
        with Locations((56.033557165, -98.835370465)):
            Circle(CIRPATTERN2_COPY_25_SKETCH_R)
    extrude(amount=-CIRPATTERN2_COPY_25_DEPTH, mode=Mode.SUBTRACT)

    # CirPattern2 copy 26 sketch → CirPattern2 copy 26 (cut)
    with BuildSketch(Plane(origin=(207.968832958, -171.527229767, 3), x_dir=(-0.7071067811865477, -0.7071067811865475, 0), z_dir=(0, 0, 1))):
        with Locations((56.033557165, -98.835370465)):
            Circle(CIRPATTERN2_COPY_26_SKETCH_R)
    extrude(amount=-CIRPATTERN2_COPY_26_DEPTH, mode=Mode.SUBTRACT)

    # CirPattern2 copy 27 sketch → CirPattern2 copy 27 (cut)
    with BuildSketch(Plane(origin=(214.86892763, -42.8018133, 3), x_dir=(0, -1, 0), z_dir=(0, 0, 1))):
        with Locations((56.033557165, -98.835370465)):
            Circle(CIRPATTERN2_COPY_27_SKETCH_R)
    extrude(amount=-CIRPATTERN2_COPY_27_DEPTH, mode=Mode.SUBTRACT)

    # CirPattern2 copy 28 sketch → CirPattern2 copy 28 (cut)
    with BuildSketch(Plane(origin=(128.725416467, 53.099905329, 3), x_dir=(0.7071067811865474, -0.7071067811865477, 0), z_dir=(0, 0, 1))):
        with Locations((56.033557165, -98.835370465)):
            Circle(CIRPATTERN2_COPY_28_SKETCH_R)
    extrude(amount=-CIRPATTERN2_COPY_28_DEPTH, mode=Mode.SUBTRACT)

    # CirPattern2 copy 29 sketch → CirPattern2 copy 29 (cut)
    with BuildSketch(Plane(origin=(-53.475311757, -68.569918033, 3), x_dir=(0.7071067811865476, 0.7071067811865475, 0), z_dir=(0, 0, 1))):
        with Locations((56.033557165, -98.835370465)):
            Circle(CIRPATTERN2_COPY_29_SKETCH_R)
    extrude(amount=-CIRPATTERN2_COPY_29_DEPTH, mode=Mode.SUBTRACT)

    # CirPattern2 copy 30 sketch → CirPattern2 copy 30 (cut)
    with BuildSketch(Plane(origin=(-42.8018133, -154.86892763, 3), x_dir=(0, 1, 0), z_dir=(0, 0, 1))):
        with Locations((56.033557165, -98.835370465)):
            Circle(CIRPATTERN2_COPY_30_SKETCH_R)
    extrude(amount=-CIRPATTERN2_COPY_30_DEPTH, mode=Mode.SUBTRACT)

    # CirPattern2 copy 31 sketch → CirPattern2 copy 31 (cut)
    with BuildSketch(Plane(origin=(25.768104734, -208.344239387, 3), x_dir=(-0.7071067811865475, 0.7071067811865476, 0), z_dir=(0, 0, 1))):
        with Locations((56.033557165, -98.835370465)):
            Circle(CIRPATTERN2_COPY_31_SKETCH_R)
    extrude(amount=-CIRPATTERN2_COPY_31_DEPTH, mode=Mode.SUBTRACT)

    # CirPattern2 copy 32 sketch → CirPattern2 copy 32 (cut)
    with BuildSketch(Plane(origin=(112.06711433, -197.670740929, 3), x_dir=(-1, 0, 0), z_dir=(0, 0, 1))):
        with Locations((56.033557165, -98.835370465)):
            Circle(CIRPATTERN2_COPY_32_SKETCH_R)
    extrude(amount=-CIRPATTERN2_COPY_32_DEPTH, mode=Mode.SUBTRACT)

    # CirPattern2 copy 33 sketch → CirPattern2 copy 33 (cut)
    with BuildSketch(Plane(origin=(165.542426087, -129.100822896, 3), x_dir=(-0.7071067811865477, -0.7071067811865475, 0), z_dir=(0, 0, 1))):
        with Locations((56.033557165, -98.835370465)):
            Circle(CIRPATTERN2_COPY_33_SKETCH_R)
    extrude(amount=-CIRPATTERN2_COPY_33_DEPTH, mode=Mode.SUBTRACT)

    # CirPattern2 copy 34 sketch → CirPattern2 copy 34 (cut)
    with BuildSketch(Plane(origin=(154.86892763, -42.8018133, 3), x_dir=(0, -1, 0), z_dir=(0, 0, 1))):
        with Locations((56.033557165, -98.835370465)):
            Circle(CIRPATTERN2_COPY_34_SKETCH_R)
    extrude(amount=-CIRPATTERN2_COPY_34_DEPTH, mode=Mode.SUBTRACT)

    # CirPattern2 copy 35 sketch → CirPattern2 copy 35 (cut)
    with BuildSketch(Plane(origin=(86.299009596, 10.673498457, 3), x_dir=(0.7071067811865474, -0.7071067811865477, 0), z_dir=(0, 0, 1))):
        with Locations((56.033557165, -98.835370465)):
            Circle(CIRPATTERN2_COPY_35_SKETCH_R)
    extrude(amount=-CIRPATTERN2_COPY_35_DEPTH, mode=Mode.SUBTRACT)


solid = part.part
